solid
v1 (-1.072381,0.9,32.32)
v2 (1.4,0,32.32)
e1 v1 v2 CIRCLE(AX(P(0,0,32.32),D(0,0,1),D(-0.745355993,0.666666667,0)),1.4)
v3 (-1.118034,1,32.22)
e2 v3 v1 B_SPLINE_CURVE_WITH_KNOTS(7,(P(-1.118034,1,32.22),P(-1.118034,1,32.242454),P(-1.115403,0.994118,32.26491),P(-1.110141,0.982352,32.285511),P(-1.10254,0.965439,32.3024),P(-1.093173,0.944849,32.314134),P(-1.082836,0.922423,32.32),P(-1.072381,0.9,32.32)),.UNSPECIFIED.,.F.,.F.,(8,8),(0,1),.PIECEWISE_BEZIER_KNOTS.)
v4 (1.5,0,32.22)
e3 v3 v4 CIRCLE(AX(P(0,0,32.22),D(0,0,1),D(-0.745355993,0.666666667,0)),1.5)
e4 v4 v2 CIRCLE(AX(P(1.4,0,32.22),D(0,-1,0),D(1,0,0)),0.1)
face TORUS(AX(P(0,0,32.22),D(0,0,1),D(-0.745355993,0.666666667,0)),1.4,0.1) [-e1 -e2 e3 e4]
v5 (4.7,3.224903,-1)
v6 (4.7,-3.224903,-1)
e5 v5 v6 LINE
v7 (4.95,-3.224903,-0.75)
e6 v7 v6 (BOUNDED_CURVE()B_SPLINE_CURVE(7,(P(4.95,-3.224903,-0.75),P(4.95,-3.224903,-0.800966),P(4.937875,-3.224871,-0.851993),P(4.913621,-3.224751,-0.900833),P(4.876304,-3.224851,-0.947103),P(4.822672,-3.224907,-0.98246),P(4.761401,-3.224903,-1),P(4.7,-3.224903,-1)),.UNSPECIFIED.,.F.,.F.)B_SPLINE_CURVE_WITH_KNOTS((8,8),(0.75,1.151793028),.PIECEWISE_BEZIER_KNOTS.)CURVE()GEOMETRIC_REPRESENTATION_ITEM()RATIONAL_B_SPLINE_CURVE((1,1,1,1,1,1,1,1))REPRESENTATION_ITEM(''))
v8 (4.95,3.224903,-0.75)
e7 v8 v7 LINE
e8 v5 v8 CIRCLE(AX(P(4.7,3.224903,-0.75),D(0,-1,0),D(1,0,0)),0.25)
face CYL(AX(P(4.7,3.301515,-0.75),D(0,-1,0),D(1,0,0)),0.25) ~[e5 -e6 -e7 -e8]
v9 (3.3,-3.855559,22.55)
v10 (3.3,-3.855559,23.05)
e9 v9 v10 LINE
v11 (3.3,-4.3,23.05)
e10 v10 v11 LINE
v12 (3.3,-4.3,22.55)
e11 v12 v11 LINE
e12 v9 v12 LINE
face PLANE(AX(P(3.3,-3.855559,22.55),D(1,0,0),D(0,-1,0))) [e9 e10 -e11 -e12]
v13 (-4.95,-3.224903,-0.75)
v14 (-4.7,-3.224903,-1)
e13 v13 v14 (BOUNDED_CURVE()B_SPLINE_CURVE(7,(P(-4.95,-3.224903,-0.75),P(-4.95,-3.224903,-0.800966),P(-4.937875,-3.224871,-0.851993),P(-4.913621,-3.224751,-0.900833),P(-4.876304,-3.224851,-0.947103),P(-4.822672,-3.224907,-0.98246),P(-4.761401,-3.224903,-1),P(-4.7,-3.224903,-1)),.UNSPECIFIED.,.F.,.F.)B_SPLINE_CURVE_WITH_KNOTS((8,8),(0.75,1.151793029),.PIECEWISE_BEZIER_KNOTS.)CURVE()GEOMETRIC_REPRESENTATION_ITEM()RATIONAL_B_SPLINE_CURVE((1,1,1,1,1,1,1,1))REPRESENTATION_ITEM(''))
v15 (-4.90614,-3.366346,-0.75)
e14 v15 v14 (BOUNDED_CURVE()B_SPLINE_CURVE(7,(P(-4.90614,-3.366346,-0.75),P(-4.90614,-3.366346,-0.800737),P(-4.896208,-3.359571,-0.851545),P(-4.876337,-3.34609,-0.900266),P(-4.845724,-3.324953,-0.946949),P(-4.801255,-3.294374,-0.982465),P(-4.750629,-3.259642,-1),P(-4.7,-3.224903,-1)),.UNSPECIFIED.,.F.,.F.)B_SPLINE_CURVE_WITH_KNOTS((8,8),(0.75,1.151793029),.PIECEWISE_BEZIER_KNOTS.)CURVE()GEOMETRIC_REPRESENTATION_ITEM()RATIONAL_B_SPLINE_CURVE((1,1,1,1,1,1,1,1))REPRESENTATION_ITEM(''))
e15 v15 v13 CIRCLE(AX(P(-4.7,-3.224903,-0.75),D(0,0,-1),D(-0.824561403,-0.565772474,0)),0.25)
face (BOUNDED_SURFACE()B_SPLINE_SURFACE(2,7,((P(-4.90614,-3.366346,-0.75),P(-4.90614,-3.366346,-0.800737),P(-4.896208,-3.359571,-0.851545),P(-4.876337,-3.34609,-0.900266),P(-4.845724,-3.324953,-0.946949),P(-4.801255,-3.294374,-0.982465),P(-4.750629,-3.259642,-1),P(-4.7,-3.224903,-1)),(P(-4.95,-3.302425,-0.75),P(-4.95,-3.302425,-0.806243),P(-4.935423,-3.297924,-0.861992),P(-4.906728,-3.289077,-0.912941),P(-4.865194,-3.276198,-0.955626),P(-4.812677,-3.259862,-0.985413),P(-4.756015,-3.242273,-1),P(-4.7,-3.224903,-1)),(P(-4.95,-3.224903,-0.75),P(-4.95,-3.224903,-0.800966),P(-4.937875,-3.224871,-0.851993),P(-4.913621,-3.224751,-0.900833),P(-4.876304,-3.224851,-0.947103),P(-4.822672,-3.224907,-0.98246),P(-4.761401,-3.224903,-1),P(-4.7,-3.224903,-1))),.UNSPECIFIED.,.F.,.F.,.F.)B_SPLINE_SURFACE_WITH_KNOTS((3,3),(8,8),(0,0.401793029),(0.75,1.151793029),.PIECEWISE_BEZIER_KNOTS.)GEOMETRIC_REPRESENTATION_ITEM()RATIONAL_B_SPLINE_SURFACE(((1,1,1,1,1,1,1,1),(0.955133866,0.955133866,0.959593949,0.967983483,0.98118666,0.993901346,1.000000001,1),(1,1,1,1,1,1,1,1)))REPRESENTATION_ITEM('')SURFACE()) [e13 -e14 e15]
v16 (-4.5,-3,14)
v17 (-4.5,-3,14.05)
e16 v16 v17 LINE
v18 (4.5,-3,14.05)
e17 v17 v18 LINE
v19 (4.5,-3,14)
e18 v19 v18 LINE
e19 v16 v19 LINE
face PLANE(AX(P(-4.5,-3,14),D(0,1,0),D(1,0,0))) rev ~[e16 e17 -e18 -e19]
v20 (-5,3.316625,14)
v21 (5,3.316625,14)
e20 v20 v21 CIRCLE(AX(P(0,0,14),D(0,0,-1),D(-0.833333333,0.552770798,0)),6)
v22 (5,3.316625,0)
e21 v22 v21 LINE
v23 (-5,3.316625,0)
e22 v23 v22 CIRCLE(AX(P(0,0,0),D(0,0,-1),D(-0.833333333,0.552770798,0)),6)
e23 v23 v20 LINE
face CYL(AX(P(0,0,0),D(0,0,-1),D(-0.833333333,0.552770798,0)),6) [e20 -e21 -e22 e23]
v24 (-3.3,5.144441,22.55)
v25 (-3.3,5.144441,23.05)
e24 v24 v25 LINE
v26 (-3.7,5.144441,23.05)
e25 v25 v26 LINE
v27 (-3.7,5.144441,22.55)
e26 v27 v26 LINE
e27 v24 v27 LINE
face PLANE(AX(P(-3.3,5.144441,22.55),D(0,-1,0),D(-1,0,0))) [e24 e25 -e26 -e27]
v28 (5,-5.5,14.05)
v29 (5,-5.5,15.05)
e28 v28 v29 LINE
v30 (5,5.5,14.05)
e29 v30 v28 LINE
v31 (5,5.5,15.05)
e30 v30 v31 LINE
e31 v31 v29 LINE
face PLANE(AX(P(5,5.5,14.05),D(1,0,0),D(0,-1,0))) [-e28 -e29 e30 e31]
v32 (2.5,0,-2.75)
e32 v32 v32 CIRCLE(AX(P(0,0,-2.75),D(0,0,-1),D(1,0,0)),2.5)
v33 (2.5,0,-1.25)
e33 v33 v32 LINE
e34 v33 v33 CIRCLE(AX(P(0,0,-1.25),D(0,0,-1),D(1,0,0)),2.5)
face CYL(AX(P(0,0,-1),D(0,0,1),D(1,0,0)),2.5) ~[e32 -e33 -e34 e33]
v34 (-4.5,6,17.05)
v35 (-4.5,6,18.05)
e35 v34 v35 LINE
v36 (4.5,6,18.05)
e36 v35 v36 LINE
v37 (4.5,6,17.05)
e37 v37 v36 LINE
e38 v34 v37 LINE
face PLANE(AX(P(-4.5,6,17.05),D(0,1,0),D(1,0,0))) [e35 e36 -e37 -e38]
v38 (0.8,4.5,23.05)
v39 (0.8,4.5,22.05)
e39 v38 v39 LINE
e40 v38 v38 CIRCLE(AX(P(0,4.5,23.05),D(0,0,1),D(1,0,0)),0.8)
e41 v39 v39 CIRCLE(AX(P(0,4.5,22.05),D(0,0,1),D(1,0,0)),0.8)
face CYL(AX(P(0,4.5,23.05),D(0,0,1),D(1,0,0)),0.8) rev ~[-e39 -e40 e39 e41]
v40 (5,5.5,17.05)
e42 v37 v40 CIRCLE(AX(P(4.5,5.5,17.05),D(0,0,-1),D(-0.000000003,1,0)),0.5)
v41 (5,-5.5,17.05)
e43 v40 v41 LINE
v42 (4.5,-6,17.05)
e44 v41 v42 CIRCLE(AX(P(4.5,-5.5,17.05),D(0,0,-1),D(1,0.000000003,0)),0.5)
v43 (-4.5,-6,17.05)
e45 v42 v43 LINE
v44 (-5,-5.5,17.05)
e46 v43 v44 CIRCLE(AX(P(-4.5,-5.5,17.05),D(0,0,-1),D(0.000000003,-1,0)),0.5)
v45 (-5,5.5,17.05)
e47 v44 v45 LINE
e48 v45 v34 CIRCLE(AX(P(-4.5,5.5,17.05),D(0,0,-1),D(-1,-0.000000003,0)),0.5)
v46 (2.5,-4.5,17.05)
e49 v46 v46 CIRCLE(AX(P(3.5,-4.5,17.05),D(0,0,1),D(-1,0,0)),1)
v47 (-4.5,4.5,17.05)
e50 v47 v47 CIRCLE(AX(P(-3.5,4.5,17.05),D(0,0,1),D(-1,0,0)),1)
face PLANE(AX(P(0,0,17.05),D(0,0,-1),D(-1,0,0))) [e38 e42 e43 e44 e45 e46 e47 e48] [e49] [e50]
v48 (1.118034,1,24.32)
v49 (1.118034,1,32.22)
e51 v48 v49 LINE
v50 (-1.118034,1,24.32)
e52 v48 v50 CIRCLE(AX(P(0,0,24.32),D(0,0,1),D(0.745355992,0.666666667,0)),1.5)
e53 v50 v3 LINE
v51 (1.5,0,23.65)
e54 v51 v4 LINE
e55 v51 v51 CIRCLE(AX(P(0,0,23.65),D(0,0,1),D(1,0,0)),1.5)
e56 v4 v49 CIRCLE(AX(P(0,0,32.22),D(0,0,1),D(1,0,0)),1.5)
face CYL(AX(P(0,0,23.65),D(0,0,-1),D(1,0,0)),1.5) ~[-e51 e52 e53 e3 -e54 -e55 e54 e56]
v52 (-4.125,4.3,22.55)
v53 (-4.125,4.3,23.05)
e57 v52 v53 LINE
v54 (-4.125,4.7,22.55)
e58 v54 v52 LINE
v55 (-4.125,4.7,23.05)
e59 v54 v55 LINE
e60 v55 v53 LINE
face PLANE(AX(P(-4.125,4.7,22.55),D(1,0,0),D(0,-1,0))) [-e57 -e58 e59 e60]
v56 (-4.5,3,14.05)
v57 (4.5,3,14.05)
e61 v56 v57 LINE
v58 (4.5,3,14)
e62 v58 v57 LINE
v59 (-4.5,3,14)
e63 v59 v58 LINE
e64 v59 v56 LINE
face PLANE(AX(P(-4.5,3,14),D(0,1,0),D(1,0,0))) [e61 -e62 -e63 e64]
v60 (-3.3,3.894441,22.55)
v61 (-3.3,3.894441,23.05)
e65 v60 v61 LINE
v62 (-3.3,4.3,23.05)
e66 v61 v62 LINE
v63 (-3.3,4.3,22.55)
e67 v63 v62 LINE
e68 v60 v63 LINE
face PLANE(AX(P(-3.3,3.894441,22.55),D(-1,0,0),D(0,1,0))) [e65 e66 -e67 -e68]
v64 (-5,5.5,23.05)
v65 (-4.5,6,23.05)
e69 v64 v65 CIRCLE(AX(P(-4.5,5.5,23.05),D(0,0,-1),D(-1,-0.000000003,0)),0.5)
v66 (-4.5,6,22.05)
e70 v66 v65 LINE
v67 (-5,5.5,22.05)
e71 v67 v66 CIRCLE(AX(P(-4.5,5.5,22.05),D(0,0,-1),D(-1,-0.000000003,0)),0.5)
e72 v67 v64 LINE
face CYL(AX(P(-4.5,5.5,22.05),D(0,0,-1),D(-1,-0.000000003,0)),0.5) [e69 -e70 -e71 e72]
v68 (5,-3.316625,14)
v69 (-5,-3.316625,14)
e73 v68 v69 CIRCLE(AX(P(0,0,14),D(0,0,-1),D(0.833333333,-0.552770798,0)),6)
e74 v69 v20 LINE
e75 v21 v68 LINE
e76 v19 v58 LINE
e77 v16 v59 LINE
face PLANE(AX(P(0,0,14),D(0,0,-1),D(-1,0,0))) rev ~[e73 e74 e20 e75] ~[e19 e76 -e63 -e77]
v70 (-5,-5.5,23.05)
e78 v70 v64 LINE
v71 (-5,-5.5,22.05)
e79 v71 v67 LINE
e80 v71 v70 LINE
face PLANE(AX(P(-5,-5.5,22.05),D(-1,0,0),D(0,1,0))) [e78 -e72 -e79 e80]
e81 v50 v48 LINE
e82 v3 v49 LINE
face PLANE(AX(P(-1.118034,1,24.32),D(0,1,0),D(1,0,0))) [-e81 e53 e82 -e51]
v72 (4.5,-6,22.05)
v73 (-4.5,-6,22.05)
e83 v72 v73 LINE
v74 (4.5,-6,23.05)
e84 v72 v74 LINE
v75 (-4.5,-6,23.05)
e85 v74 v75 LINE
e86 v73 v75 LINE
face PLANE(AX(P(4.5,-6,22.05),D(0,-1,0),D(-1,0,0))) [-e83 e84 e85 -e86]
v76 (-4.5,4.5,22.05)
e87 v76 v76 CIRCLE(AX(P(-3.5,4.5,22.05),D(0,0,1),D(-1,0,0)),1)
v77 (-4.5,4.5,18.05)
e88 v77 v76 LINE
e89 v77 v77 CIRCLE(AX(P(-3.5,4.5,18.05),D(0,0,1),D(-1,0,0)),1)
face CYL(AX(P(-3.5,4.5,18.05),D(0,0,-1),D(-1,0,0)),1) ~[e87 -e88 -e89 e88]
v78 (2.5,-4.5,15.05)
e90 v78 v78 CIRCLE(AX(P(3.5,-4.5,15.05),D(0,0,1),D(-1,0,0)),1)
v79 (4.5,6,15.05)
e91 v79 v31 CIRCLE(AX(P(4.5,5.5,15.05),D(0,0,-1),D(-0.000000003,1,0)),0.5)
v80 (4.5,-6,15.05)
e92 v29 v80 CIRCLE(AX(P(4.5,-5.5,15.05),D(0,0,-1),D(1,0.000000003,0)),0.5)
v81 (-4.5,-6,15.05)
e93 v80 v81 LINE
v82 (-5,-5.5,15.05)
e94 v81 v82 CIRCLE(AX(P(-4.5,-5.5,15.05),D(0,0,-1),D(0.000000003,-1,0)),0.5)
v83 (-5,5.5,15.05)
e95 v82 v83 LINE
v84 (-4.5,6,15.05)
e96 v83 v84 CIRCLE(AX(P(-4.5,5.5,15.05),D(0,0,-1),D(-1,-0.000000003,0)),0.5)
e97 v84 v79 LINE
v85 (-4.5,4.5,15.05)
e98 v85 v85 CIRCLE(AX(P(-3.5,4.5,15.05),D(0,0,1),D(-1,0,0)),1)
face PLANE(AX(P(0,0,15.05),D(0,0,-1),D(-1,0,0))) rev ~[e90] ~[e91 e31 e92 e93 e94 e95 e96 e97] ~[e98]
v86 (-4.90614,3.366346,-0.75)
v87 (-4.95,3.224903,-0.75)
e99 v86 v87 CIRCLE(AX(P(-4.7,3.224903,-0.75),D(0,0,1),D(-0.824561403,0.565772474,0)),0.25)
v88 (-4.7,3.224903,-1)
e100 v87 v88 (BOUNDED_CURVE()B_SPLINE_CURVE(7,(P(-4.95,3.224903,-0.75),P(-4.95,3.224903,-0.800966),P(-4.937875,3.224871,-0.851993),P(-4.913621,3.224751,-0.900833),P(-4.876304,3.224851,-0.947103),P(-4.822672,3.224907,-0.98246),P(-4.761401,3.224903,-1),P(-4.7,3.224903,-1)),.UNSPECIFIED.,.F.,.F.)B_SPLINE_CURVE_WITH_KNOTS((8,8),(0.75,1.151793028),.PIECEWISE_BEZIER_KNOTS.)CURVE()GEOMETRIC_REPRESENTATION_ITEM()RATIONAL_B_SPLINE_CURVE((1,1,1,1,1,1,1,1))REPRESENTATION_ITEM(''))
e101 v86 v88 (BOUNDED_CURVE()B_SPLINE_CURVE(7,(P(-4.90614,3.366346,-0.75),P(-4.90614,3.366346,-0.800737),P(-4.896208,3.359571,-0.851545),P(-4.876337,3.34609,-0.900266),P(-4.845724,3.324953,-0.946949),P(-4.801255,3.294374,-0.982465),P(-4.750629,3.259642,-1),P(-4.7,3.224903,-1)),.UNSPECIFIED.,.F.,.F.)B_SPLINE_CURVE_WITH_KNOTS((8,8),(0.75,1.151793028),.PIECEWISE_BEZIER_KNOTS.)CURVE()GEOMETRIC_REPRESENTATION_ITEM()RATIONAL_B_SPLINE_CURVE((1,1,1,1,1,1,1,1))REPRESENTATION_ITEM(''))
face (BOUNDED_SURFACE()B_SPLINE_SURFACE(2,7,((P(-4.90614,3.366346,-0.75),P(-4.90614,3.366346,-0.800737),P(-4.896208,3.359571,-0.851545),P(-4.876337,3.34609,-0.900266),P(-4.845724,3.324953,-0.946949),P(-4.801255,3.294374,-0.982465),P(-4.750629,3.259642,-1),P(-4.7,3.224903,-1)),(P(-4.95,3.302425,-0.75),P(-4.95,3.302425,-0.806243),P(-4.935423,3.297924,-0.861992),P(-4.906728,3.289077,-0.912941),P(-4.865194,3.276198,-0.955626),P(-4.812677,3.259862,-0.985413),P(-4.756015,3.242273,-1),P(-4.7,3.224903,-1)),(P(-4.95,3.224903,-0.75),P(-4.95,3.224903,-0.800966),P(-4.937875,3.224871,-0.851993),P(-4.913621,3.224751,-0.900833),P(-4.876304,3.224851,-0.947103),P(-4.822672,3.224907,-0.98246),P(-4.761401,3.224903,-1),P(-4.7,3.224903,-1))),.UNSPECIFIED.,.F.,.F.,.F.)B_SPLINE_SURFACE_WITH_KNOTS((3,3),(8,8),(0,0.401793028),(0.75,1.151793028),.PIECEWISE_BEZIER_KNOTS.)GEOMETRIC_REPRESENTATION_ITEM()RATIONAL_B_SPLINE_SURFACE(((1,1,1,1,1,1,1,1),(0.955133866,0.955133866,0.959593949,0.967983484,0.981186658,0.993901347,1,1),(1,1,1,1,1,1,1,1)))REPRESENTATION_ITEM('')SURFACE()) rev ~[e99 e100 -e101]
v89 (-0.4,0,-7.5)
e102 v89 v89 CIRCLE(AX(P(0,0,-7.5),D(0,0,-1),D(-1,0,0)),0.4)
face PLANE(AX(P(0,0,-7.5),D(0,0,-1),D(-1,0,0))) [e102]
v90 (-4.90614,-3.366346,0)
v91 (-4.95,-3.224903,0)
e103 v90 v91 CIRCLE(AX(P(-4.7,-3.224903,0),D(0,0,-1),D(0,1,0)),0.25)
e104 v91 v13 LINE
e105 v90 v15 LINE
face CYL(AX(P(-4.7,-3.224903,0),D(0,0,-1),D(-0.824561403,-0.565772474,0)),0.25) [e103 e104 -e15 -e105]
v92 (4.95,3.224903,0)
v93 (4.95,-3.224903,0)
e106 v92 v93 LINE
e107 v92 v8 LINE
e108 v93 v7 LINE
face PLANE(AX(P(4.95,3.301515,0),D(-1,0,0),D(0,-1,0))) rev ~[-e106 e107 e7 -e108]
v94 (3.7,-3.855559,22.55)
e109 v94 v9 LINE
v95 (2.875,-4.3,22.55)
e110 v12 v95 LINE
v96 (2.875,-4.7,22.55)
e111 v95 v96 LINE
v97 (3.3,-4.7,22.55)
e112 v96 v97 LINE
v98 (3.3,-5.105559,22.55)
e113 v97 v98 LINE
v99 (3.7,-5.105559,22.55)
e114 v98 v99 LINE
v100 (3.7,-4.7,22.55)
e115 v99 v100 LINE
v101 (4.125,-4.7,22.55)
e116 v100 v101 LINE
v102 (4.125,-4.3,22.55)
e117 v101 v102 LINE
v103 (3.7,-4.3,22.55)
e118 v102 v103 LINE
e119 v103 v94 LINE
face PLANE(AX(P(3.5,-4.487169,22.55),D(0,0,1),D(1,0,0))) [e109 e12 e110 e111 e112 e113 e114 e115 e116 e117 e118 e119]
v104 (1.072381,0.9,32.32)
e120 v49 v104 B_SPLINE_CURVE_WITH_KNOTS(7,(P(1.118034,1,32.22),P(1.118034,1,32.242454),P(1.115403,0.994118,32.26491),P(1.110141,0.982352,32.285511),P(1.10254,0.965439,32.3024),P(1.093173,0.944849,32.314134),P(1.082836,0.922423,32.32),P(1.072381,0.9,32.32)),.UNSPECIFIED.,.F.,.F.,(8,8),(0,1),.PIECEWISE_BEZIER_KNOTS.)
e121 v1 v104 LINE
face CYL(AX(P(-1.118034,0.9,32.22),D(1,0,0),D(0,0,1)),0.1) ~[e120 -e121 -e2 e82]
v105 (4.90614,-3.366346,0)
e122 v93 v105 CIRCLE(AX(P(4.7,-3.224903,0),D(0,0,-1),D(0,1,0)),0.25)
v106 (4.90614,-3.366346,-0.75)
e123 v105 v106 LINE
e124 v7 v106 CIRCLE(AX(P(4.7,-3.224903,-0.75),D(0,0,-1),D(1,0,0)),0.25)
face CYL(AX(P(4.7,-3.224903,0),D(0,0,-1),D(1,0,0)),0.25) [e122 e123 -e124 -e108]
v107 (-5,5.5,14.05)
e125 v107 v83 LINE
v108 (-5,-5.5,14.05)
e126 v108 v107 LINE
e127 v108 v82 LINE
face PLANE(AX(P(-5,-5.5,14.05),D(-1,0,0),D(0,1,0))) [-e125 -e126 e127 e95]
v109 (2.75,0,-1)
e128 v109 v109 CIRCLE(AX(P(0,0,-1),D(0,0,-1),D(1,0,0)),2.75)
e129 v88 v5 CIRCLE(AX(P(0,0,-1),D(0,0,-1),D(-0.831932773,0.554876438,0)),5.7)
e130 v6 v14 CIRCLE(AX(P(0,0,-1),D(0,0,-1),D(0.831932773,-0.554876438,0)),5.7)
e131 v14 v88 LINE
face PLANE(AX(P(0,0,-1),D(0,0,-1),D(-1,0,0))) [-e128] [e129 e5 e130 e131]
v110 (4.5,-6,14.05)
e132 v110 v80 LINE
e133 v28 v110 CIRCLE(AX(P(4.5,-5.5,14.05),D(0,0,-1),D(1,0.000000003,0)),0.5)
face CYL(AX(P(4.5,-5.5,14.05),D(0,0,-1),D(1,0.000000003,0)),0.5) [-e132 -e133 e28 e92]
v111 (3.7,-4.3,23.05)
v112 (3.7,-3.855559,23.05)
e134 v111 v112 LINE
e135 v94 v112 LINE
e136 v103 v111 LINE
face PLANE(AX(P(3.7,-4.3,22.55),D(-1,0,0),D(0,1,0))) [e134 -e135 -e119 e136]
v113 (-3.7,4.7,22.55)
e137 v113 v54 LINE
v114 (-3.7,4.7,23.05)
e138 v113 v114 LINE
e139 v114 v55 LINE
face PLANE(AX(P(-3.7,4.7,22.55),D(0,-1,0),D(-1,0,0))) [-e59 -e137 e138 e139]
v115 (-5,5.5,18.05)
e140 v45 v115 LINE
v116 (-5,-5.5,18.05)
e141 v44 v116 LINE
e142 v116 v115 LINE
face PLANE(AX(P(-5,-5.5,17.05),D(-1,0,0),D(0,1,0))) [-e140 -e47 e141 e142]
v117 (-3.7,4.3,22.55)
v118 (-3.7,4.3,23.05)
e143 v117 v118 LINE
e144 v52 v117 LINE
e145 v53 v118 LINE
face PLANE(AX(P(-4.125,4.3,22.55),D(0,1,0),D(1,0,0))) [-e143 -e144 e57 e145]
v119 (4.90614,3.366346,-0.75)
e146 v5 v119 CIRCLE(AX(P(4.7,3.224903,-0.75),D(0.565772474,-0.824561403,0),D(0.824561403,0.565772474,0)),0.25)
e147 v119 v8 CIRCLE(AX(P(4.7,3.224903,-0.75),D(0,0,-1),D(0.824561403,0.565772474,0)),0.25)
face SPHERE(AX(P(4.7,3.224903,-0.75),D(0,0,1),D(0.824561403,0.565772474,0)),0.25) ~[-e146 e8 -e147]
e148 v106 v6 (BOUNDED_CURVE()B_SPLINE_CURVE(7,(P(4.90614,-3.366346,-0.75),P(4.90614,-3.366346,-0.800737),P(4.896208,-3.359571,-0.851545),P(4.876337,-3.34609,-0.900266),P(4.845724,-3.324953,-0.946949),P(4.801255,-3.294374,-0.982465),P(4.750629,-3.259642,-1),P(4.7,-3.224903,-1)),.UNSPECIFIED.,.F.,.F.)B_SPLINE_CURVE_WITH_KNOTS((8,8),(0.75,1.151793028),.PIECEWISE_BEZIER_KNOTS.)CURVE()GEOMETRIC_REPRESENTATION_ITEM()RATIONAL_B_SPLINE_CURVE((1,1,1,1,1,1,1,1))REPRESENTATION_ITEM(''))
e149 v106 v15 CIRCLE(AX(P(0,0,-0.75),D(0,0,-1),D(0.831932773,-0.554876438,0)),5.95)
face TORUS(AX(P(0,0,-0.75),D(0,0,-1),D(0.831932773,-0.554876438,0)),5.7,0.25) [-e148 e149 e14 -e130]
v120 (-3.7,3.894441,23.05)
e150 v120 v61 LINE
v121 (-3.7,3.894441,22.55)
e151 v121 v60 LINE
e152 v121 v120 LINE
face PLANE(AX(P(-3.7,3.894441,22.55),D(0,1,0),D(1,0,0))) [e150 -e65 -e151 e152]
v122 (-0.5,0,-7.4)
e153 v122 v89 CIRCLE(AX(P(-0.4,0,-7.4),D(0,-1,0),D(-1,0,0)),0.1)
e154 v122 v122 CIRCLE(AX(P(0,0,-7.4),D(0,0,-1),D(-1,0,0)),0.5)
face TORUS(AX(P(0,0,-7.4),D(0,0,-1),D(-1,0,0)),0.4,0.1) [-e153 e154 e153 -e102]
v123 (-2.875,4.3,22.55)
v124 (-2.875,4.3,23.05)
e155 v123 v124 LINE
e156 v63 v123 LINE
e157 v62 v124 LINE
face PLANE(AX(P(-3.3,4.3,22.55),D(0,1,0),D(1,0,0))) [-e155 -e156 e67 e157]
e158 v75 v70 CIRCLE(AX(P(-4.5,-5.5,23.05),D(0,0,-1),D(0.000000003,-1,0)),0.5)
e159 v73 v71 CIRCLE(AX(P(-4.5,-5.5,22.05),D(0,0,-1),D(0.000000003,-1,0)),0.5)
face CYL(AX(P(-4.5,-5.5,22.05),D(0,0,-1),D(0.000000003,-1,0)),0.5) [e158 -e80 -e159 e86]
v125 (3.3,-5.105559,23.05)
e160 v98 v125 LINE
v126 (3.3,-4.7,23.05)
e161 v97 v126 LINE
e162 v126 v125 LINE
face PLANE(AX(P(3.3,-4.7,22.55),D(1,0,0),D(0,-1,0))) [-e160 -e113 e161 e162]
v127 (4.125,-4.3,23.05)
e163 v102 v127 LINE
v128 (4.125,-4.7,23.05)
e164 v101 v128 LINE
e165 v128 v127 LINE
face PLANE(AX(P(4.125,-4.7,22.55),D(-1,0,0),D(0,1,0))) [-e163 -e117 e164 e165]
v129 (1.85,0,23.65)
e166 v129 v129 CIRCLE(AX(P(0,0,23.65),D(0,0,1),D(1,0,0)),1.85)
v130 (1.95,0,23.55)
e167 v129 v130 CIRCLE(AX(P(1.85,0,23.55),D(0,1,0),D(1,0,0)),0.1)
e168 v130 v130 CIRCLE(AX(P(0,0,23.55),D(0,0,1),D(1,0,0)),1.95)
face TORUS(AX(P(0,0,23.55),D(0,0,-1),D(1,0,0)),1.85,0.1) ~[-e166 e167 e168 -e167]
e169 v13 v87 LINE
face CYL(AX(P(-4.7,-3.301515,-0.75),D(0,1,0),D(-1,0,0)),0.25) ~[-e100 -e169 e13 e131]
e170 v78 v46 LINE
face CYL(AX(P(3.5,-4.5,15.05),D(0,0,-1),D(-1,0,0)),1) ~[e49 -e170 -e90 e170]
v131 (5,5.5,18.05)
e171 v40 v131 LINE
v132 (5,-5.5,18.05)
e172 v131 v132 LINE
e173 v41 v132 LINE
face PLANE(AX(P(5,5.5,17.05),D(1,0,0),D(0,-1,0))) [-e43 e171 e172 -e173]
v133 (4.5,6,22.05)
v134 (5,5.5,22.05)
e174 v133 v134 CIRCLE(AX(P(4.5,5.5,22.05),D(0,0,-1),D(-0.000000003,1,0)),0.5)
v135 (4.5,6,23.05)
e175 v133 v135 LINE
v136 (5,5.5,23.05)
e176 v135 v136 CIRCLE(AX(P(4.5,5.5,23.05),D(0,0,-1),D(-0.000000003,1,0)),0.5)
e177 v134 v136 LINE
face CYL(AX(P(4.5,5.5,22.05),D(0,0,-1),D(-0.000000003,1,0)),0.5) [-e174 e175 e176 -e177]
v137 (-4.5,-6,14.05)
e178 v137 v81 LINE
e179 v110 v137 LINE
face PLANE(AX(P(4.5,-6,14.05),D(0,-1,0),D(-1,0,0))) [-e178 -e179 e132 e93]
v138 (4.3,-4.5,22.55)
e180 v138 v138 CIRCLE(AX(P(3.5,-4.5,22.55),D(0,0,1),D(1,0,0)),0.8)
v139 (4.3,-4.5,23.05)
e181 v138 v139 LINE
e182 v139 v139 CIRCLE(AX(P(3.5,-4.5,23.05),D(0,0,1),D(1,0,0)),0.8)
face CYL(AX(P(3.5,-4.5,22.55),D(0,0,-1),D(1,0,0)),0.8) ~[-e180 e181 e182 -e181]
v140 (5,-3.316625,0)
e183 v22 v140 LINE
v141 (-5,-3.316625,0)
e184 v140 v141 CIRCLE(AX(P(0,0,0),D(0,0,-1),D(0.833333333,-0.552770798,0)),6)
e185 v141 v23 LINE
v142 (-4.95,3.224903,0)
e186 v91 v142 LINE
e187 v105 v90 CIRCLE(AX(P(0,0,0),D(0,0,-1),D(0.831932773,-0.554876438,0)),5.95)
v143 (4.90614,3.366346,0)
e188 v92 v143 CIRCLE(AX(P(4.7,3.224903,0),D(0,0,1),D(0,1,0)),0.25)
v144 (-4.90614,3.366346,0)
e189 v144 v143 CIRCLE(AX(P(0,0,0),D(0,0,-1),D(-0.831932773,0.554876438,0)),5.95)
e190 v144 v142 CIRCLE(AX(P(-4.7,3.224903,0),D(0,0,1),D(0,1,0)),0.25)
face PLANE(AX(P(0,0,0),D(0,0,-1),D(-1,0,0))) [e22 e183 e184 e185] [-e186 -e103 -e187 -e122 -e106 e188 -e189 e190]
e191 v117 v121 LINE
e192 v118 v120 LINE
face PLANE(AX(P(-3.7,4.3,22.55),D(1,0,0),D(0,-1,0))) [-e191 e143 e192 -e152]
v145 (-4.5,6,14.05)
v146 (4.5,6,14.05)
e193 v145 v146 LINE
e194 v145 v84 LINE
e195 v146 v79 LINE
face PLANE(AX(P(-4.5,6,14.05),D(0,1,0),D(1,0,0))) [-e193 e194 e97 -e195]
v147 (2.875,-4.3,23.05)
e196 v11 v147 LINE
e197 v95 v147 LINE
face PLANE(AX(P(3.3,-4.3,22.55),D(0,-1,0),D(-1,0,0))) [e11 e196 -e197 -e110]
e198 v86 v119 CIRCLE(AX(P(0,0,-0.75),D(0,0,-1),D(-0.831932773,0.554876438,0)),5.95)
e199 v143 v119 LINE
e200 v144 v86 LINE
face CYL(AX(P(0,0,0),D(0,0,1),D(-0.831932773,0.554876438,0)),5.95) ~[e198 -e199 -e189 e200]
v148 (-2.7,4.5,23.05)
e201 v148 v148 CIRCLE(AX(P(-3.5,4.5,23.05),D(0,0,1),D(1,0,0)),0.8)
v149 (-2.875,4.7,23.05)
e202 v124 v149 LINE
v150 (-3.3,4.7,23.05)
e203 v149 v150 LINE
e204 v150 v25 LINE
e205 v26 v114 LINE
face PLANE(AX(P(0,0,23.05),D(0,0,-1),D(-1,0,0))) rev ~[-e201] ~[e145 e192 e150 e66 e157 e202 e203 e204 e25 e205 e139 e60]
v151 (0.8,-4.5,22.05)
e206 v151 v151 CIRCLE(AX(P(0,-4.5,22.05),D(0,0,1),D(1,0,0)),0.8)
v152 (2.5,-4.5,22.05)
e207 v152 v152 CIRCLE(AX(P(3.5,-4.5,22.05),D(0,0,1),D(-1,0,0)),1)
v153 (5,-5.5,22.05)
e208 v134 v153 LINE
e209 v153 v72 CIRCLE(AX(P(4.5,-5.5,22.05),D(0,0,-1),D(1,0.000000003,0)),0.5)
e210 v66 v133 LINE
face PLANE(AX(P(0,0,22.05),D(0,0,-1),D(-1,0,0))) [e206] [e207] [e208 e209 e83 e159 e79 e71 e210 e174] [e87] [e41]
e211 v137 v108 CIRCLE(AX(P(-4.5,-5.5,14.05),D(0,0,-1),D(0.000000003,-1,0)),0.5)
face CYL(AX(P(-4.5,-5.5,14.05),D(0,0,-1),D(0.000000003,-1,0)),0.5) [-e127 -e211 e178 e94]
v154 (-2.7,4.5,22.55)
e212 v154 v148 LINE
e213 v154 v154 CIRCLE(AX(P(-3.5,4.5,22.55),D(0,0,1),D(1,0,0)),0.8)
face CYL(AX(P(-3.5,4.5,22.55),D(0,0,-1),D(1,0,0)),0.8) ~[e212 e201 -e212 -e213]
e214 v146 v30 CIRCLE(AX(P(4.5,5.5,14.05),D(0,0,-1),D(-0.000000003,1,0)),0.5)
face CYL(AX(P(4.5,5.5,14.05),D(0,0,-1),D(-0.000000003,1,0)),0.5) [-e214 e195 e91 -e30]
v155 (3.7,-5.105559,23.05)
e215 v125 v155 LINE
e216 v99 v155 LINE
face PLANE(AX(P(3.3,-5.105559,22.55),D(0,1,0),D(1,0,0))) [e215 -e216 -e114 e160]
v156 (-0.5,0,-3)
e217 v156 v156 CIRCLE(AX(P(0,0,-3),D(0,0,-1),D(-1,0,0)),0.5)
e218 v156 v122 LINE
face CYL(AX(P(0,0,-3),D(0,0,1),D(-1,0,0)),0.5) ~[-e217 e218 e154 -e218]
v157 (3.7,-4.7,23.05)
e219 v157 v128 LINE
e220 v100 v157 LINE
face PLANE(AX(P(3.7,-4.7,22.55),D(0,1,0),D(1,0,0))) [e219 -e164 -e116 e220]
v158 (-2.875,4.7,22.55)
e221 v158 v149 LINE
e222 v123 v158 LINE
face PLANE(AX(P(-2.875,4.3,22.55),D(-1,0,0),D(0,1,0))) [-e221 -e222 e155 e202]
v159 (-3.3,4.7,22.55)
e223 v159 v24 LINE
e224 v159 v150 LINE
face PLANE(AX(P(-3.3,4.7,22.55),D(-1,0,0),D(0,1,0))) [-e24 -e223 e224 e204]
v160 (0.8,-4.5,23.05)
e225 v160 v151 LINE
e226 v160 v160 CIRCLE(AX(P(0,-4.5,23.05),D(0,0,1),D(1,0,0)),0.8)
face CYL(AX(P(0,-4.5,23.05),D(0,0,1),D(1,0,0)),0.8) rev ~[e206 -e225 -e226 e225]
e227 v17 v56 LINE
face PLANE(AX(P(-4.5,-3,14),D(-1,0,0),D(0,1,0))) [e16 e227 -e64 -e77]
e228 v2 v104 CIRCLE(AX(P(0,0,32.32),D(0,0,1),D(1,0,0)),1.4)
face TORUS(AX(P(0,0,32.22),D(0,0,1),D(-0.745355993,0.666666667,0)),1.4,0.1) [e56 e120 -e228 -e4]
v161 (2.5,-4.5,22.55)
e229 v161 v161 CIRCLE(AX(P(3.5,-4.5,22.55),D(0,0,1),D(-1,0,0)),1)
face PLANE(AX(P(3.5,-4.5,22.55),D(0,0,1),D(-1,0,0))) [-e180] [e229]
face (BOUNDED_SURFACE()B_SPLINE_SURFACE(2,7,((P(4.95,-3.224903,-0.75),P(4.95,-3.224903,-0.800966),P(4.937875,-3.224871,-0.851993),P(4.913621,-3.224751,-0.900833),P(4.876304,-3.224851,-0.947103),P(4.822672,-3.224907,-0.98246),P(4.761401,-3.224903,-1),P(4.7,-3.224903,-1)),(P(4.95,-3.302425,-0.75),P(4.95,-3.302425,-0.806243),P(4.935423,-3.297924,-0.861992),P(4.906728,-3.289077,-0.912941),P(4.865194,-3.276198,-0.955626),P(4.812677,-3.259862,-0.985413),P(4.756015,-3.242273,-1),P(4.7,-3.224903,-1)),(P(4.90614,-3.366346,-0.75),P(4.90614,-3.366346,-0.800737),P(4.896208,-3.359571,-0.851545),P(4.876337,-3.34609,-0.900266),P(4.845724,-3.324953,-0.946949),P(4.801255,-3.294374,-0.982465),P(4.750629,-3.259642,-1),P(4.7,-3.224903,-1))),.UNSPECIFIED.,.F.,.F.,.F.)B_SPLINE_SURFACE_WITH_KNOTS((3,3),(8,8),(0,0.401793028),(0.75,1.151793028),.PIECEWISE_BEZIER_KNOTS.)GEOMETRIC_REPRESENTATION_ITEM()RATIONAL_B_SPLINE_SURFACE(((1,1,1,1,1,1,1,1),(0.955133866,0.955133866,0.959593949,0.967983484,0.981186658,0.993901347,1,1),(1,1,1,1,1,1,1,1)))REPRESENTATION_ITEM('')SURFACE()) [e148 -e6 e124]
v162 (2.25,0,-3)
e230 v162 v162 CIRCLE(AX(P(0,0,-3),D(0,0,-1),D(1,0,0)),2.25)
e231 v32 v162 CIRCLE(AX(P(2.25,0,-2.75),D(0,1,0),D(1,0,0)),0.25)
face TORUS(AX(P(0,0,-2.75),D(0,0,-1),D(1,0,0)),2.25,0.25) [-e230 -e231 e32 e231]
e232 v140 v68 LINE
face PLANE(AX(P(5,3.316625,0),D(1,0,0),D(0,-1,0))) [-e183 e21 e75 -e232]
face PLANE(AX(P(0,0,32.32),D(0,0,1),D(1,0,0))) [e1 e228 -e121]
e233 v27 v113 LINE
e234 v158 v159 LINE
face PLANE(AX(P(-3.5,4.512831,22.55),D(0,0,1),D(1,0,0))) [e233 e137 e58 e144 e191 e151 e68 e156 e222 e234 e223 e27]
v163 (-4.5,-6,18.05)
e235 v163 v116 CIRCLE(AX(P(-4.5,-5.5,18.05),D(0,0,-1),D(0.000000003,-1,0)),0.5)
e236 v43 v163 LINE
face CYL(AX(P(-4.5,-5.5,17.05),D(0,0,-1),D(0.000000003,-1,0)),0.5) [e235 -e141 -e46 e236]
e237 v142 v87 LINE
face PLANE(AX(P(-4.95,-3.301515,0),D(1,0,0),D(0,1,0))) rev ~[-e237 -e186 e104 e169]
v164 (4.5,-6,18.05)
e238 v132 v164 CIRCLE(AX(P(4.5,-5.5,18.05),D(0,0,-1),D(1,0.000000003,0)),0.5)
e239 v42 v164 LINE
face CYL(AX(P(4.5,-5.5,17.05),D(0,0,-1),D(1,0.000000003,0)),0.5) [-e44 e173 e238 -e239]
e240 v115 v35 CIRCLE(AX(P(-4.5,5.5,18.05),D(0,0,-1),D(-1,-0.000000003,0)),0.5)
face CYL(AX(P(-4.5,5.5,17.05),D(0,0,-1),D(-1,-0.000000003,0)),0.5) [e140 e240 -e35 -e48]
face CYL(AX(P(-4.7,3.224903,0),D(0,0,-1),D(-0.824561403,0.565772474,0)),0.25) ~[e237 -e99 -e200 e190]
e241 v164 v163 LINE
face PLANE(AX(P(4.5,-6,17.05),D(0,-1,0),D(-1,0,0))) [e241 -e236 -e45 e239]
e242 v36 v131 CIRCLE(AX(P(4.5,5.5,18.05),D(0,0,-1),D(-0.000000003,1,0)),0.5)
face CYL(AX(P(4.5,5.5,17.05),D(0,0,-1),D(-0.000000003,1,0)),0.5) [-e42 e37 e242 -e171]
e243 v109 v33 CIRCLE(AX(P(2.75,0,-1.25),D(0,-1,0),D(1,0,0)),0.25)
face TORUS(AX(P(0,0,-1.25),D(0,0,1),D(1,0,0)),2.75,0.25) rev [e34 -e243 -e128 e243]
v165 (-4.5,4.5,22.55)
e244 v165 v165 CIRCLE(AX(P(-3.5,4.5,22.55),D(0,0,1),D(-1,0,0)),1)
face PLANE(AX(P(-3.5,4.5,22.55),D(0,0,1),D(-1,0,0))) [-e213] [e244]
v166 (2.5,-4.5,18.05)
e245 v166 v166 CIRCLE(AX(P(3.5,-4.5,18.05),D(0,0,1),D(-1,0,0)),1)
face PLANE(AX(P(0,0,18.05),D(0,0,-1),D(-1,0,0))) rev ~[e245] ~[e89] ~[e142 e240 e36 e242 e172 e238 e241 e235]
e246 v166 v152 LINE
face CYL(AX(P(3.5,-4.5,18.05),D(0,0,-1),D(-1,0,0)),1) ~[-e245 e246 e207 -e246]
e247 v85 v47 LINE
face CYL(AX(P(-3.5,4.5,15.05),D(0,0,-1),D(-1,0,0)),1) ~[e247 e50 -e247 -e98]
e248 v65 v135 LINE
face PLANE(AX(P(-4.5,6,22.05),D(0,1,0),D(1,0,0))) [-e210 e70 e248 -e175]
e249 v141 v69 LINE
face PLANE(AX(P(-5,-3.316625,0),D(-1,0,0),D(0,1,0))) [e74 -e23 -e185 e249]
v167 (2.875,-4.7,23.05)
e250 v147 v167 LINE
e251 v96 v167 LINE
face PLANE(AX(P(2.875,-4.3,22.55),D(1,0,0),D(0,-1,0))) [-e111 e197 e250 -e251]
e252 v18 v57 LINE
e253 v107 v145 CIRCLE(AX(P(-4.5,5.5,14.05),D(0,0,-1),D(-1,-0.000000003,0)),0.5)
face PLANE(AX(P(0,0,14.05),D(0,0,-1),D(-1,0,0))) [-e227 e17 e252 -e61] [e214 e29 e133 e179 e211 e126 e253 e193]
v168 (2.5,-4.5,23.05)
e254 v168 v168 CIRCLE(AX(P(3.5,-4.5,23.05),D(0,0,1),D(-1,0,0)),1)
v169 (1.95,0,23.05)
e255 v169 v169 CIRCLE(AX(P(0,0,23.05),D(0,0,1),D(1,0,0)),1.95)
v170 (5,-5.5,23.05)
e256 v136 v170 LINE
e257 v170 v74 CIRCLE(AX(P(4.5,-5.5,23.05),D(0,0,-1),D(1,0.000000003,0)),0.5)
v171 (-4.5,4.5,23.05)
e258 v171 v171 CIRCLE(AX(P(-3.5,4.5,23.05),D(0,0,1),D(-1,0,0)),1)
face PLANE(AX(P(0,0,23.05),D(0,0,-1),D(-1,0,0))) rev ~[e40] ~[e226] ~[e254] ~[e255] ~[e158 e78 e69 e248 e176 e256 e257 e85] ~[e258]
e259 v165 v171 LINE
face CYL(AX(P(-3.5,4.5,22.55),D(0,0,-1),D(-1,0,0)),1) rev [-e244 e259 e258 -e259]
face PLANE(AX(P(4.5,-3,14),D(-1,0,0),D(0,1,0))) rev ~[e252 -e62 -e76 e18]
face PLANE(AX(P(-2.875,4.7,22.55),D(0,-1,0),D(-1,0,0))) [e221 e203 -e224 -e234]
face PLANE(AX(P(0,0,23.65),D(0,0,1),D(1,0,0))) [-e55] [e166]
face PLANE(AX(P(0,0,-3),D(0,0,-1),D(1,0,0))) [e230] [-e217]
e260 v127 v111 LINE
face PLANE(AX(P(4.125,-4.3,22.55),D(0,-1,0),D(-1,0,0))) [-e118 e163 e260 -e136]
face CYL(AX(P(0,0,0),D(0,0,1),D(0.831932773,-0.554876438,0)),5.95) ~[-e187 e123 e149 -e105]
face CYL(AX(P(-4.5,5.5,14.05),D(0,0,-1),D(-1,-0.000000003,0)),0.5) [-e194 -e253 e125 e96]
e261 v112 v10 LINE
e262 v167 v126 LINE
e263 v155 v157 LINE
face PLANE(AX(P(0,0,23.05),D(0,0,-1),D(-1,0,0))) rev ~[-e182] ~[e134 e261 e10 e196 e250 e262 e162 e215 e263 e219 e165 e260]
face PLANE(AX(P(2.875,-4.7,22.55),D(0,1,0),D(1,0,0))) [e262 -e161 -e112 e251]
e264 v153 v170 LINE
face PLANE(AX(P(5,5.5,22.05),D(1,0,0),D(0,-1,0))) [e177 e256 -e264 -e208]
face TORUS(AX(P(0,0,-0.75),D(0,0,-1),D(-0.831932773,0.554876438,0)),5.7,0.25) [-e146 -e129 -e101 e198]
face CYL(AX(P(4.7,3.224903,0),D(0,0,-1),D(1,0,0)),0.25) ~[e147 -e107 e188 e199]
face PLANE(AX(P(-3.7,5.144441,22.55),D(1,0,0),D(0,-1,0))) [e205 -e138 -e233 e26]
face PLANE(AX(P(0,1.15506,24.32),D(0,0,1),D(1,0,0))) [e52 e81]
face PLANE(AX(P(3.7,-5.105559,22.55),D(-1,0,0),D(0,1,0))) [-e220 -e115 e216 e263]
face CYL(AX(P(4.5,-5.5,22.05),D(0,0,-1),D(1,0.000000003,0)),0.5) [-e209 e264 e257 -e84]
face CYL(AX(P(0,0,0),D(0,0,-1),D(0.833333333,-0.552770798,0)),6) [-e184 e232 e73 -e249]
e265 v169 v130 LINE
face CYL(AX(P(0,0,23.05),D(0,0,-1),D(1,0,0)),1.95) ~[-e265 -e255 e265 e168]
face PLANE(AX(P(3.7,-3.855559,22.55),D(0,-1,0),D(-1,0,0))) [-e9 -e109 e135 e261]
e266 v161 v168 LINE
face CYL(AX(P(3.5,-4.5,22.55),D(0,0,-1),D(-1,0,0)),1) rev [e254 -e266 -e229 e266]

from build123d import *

# Parameters (mm, degrees)
BOSS_EXTRU_1_DEPTH      = 14
BOSS_EXTRU_3_DEPTH      = 1
ESQUISSE4_R             = 2.5
BOSS_EXTRU_4_DEPTH      = 2
ESQUISSE5_R             = 0.5
BOSS_EXTRU_5_DEPTH      = 4.5
ESQUISSE7_W             = 9
ESQUISSE7_H             = 6
BOSS_EXTRU_7_DEPTH      = 0.05
BOSS_EXTRU_8_DEPTH      = 1
ESQUISSE9_R             = 1
BOSS_EXTRU_9_DEPTH      = 2
BOSS_EXTRU_10_DEPTH     = 1
ESQUISSE11_R            = 1
BOSS_EXTRU_11_DEPTH     = 4
BOSS_EXTRU_12_DEPTH     = 1
ESQUISSE13_R            = 0.8
ENL_V_MAT_EXTRU_1_DEPTH = 2
ENL_V_START             = -0.5
ESQUISSE14_R            = 1
ESQUISSE14_R_2          = 0.8
ENL_V_MAT_EXTRU_2_DEPTH = 0.5
ESQUISSE15_R            = 1.95
BOSS_EXTRU_13_DEPTH     = 0.6
ESQUISSE16_R            = 1.5
BOSS_EXTRU_14_DEPTH     = 8.67
ENL_V_START_2           = -8
ENL_V_MAT_EXTRU_3_DEPTH = 8
CONG_1_R                = 0.25
CONG_2_R                = 0.1
CONG_3_R                = 0.1
CONG_4_R                = 0.1
CONG_5_R                = 0.25


with BuildPart() as part:
    # Esquisse1 → Boss.-Extru.1 (new body)
    with BuildSketch(Plane.XY):
        with BuildLine():
            Line((5, 3.31662479), (5, -3.31662479))
            ThreePointArc((5, -3.31662479), (0, -6), (-5, -3.31662479))
            Line((-5, -3.31662479), (-5, 3.31662479))
            ThreePointArc((-5, 3.31662479), (0, 6), (5, 3.31662479))
        make_face()
    extrude(amount=BOSS_EXTRU_1_DEPTH)

    # Esquisse3 → Boss.-Extru.3 (add)
    with BuildSketch(Plane(origin=(0, 0, 0), x_dir=(-1, 0, 0), z_dir=(0, 0, -1))):
        with BuildLine():
            Line((-4.95, 3.301514804), (-4.95, -3.301514804))
            ThreePointArc((-4.95, -3.301514804), (0, -5.95), (4.95, -3.301514804))
            Line((4.95, -3.301514804), (4.95, 3.301514804))
            ThreePointArc((4.95, 3.301514804), (0, 5.95), (-4.95, 3.301514804))
        make_face()
    extrude(amount=BOSS_EXTRU_3_DEPTH)

    # Esquisse4 → Boss.-Extru.4 (add)
    with BuildSketch(Plane(origin=(0, 0, -1), x_dir=(-1, 0, 0), z_dir=(0, 0, -1))):
        with Locations(Location((0, 0, 0), (0, 0, 180))):
            Circle(ESQUISSE4_R)
    extrude(amount=BOSS_EXTRU_4_DEPTH)

    # Esquisse5 → Boss.-Extru.5 (add)
    with BuildSketch(Plane(origin=(0, 0, -3), x_dir=(-1, 0, 0), z_dir=(0, 0, -1))):
        Circle(ESQUISSE5_R)
    extrude(amount=BOSS_EXTRU_5_DEPTH)

    # Esquisse7 → Boss.-Extru.7 (add)
    with BuildSketch(Plane.XY.offset(14)):
        Rectangle(ESQUISSE7_W, ESQUISSE7_H)
    extrude(amount=BOSS_EXTRU_7_DEPTH)

    # Esquisse8 → Boss.-Extru.8 (add)
    with BuildSketch(Plane.XY.offset(14.05)):
        with BuildLine():
            Line((-4.5, 6), (4.5, 6))
            ThreePointArc((4.5, 6), (4.853553391, 5.853553391), (5, 5.5))
            Line((5, 5.5), (5, -5.5))
            ThreePointArc((5, -5.5), (4.853553391, -5.853553391), (4.5, -6))
            Line((4.5, -6), (-4.5, -6))
            ThreePointArc((-4.5, -6), (-4.853553391, -5.853553391), (-5, -5.5))
            Line((-5, -5.5), (-5, 5.5))
            ThreePointArc((-5, 5.5), (-4.853553391, 5.853553391), (-4.5, 6))
        make_face()
    extrude(amount=BOSS_EXTRU_8_DEPTH)

    # Esquisse9 → Boss.-Extru.9 (add)
    with BuildSketch(Plane.XY.offset(15.05)):
        with Locations(Location((-3.5, 4.5, 0), (0, 0, 180))):
            Circle(ESQUISSE9_R)
        with Locations(Location((3.5, -4.5, 0), (0, 0, 180))):
            Circle(ESQUISSE9_R)
    extrude(amount=BOSS_EXTRU_9_DEPTH)

    # Esquisse10 → Boss.-Extru.10 (add)
    with BuildSketch(Plane.XY.offset(17.05)):
        with BuildLine():
            Line((-4.5, 6), (4.5, 6))
            ThreePointArc((4.5, 6), (4.853553391, 5.853553391), (5, 5.5))
            Line((5, 5.5), (5, -5.5))
            ThreePointArc((5, -5.5), (4.853553391, -5.853553391), (4.5, -6))
            Line((4.5, -6), (-4.5, -6))
            ThreePointArc((-4.5, -6), (-4.853553391, -5.853553391), (-5, -5.5))
            Line((-5, -5.5), (-5, 5.5))
            ThreePointArc((-5, 5.5), (-4.853553391, 5.853553391), (-4.5, 6))
        make_face()
    extrude(amount=BOSS_EXTRU_10_DEPTH)

    # Esquisse11 → Boss.-Extru.11 (add)
    with BuildSketch(Plane.XY.offset(18.05)):
        with Locations(Location((-3.5, 4.5, 0), (0, 0, 180))):
            Circle(ESQUISSE11_R)
        with Locations(Location((3.5, -4.5, 0), (0, 0, 180))):
            Circle(ESQUISSE11_R)
    extrude(amount=BOSS_EXTRU_11_DEPTH)

    # Esquisse12 → Boss.-Extru.12 (add)
    with BuildSketch(Plane.XY.offset(22.05)):
        with BuildLine():
            Line((-4.5, 6), (4.5, 6))
            ThreePointArc((4.5, 6), (4.853553391, 5.853553391), (5, 5.5))
            Line((5, 5.5), (5, -5.5))
            ThreePointArc((5, -5.5), (4.853553391, -5.853553391), (4.5, -6))
            Line((4.5, -6), (-4.5, -6))
            ThreePointArc((-4.5, -6), (-4.853553391, -5.853553391), (-5, -5.5))
            Line((-5, -5.5), (-5, 5.5))
            ThreePointArc((-5, 5.5), (-4.853553391, 5.853553391), (-4.5, 6))
        make_face()
    extrude(amount=BOSS_EXTRU_12_DEPTH)

    # Esquisse13 → Enlèv. mat.-Extru.1 (cut)
    with BuildSketch(Plane.XY.offset(23.05)):
        with Locations((0, 4.5)):
            Circle(ESQUISSE13_R)
        with Locations((0, -4.5)):
            Circle(ESQUISSE13_R)
    extrude(amount=-ENL_V_MAT_EXTRU_1_DEPTH, mode=Mode.SUBTRACT)

    # Esquisse14 → Enlèv. mat.-Extru.2 (cut)
    # profile 1 of 4: a face of its own
    with BuildSketch(Plane.XY.offset(23.05).offset(ENL_V_START)):
        with Locations(Location((-3.5, 4.5, 0), (0, 0, 180))):
            Circle(ESQUISSE14_R)
        with Locations((-3.5, 4.5)):
            Circle(ESQUISSE14_R_2, mode=Mode.SUBTRACT)
    # profile 2 of 4: a face of its own
    with BuildSketch(Plane.XY.offset(23.05).offset(ENL_V_START)):
        Polygon((-4.125, 4.3), (-3.7, 4.3), (-3.7, 3.894440891), (-3.3, 3.894440891), (-3.3, 4.3), (-2.875, 4.3), (-2.875, 4.7), (-3.3, 4.7), (-3.3, 5.144440891), (-3.7, 5.144440891), (-3.7, 4.7), (-4.125, 4.7), align=None)
    # profile 3 of 4: a face of its own
    with BuildSketch(Plane.XY.offset(23.05).offset(ENL_V_START)):
        with Locations(Location((3.5, -4.5, 0), (0, 0, 180))):
            Circle(ESQUISSE14_R)
        with Locations((3.5, -4.5)):
            Circle(ESQUISSE14_R_2, mode=Mode.SUBTRACT)
    # profile 4 of 4: a face of its own
    with BuildSketch(Plane.XY.offset(23.05).offset(ENL_V_START)):
        Polygon((3.3, -4.7), (3.3, -5.105559109), (3.7, -5.105559109), (3.7, -4.7), (4.125, -4.7), (4.125, -4.3), (3.7, -4.3), (3.7, -3.855559109), (3.3, -3.855559109), (3.3, -4.3), (2.875, -4.3), (2.875, -4.7), align=None)
    extrude(amount=ENL_V_MAT_EXTRU_2_DEPTH, mode=Mode.SUBTRACT)

    # Esquisse15 → Boss.-Extru.13 (add)
    with BuildSketch(Plane.XY.offset(23.05)):
        Circle(ESQUISSE15_R)
    extrude(amount=BOSS_EXTRU_13_DEPTH)

    # Esquisse16 → Boss.-Extru.14 (add)
    with BuildSketch(Plane.XY.offset(23.65)):
        Circle(ESQUISSE16_R)
    extrude(amount=BOSS_EXTRU_14_DEPTH)

    # Esquisse17 → Enlèv. mat.-Extru.3 (cut)
    with BuildSketch(Plane.XY.offset(32.32).offset(ENL_V_START_2)):
        with BuildLine():
            Line((-1.118033989, 1), (1.118033989, 1))
            ThreePointArc((1.118033989, 1), (0, 1.5), (-1.118033989, 1))
        make_face()
    extrude(amount=ENL_V_MAT_EXTRU_3_DEPTH, mode=Mode.SUBTRACT)

    # Congé1
    cong_1_edges = [part.edges().sort_by_distance(p)[0] for p in [
        (4.95, 3.301514804, -0.5),
        (0, 5.95, -1),
        (4.95, 0, -1),
        (0, -5.95, -1),
        (-4.95, 0, -1),
        (-2.5, 0, -1),
        (-2.5, 0, -3),
    ]]
    fillet(cong_1_edges, radius=CONG_1_R)

    # Congé2
    cong_2_edges = [part.edges().sort_by_distance(p)[0] for p in [
        (0.5, 0, -7.5),
    ]]
    fillet(cong_2_edges, radius=CONG_2_R)

    # Congé3
    cong_3_edges = [part.edges().sort_by_distance(p)[0] for p in [
        (-0.535233135, -1.401258538, 32.32),
        (0, 1, 32.32),
    ]]
    fillet(cong_3_edges, radius=CONG_3_R)

    # Congé4
    cong_4_edges = [part.edges().sort_by_distance(p)[0] for p in [
        (-1.95, 0, 23.65),
    ]]
    fillet(cong_4_edges, radius=CONG_4_R)

    # Congé5
    cong_5_edges = [part.edges().sort_by_distance(p)[0] for p in [
        (-4.95, -3.301514804, -0.375),
        (4.95, -3.301514804, -0.375),
        (-4.95, 3.301514804, -0.375),
        (-4.874755027, 3.278644545, -0.928775503),
        (4.874755027, -3.278644545, -0.928775503),
        (-4.874755027, -3.278644545, -0.928775503),
    ]]
    fillet(cong_5_edges, radius=CONG_5_R)


solid = part.part
